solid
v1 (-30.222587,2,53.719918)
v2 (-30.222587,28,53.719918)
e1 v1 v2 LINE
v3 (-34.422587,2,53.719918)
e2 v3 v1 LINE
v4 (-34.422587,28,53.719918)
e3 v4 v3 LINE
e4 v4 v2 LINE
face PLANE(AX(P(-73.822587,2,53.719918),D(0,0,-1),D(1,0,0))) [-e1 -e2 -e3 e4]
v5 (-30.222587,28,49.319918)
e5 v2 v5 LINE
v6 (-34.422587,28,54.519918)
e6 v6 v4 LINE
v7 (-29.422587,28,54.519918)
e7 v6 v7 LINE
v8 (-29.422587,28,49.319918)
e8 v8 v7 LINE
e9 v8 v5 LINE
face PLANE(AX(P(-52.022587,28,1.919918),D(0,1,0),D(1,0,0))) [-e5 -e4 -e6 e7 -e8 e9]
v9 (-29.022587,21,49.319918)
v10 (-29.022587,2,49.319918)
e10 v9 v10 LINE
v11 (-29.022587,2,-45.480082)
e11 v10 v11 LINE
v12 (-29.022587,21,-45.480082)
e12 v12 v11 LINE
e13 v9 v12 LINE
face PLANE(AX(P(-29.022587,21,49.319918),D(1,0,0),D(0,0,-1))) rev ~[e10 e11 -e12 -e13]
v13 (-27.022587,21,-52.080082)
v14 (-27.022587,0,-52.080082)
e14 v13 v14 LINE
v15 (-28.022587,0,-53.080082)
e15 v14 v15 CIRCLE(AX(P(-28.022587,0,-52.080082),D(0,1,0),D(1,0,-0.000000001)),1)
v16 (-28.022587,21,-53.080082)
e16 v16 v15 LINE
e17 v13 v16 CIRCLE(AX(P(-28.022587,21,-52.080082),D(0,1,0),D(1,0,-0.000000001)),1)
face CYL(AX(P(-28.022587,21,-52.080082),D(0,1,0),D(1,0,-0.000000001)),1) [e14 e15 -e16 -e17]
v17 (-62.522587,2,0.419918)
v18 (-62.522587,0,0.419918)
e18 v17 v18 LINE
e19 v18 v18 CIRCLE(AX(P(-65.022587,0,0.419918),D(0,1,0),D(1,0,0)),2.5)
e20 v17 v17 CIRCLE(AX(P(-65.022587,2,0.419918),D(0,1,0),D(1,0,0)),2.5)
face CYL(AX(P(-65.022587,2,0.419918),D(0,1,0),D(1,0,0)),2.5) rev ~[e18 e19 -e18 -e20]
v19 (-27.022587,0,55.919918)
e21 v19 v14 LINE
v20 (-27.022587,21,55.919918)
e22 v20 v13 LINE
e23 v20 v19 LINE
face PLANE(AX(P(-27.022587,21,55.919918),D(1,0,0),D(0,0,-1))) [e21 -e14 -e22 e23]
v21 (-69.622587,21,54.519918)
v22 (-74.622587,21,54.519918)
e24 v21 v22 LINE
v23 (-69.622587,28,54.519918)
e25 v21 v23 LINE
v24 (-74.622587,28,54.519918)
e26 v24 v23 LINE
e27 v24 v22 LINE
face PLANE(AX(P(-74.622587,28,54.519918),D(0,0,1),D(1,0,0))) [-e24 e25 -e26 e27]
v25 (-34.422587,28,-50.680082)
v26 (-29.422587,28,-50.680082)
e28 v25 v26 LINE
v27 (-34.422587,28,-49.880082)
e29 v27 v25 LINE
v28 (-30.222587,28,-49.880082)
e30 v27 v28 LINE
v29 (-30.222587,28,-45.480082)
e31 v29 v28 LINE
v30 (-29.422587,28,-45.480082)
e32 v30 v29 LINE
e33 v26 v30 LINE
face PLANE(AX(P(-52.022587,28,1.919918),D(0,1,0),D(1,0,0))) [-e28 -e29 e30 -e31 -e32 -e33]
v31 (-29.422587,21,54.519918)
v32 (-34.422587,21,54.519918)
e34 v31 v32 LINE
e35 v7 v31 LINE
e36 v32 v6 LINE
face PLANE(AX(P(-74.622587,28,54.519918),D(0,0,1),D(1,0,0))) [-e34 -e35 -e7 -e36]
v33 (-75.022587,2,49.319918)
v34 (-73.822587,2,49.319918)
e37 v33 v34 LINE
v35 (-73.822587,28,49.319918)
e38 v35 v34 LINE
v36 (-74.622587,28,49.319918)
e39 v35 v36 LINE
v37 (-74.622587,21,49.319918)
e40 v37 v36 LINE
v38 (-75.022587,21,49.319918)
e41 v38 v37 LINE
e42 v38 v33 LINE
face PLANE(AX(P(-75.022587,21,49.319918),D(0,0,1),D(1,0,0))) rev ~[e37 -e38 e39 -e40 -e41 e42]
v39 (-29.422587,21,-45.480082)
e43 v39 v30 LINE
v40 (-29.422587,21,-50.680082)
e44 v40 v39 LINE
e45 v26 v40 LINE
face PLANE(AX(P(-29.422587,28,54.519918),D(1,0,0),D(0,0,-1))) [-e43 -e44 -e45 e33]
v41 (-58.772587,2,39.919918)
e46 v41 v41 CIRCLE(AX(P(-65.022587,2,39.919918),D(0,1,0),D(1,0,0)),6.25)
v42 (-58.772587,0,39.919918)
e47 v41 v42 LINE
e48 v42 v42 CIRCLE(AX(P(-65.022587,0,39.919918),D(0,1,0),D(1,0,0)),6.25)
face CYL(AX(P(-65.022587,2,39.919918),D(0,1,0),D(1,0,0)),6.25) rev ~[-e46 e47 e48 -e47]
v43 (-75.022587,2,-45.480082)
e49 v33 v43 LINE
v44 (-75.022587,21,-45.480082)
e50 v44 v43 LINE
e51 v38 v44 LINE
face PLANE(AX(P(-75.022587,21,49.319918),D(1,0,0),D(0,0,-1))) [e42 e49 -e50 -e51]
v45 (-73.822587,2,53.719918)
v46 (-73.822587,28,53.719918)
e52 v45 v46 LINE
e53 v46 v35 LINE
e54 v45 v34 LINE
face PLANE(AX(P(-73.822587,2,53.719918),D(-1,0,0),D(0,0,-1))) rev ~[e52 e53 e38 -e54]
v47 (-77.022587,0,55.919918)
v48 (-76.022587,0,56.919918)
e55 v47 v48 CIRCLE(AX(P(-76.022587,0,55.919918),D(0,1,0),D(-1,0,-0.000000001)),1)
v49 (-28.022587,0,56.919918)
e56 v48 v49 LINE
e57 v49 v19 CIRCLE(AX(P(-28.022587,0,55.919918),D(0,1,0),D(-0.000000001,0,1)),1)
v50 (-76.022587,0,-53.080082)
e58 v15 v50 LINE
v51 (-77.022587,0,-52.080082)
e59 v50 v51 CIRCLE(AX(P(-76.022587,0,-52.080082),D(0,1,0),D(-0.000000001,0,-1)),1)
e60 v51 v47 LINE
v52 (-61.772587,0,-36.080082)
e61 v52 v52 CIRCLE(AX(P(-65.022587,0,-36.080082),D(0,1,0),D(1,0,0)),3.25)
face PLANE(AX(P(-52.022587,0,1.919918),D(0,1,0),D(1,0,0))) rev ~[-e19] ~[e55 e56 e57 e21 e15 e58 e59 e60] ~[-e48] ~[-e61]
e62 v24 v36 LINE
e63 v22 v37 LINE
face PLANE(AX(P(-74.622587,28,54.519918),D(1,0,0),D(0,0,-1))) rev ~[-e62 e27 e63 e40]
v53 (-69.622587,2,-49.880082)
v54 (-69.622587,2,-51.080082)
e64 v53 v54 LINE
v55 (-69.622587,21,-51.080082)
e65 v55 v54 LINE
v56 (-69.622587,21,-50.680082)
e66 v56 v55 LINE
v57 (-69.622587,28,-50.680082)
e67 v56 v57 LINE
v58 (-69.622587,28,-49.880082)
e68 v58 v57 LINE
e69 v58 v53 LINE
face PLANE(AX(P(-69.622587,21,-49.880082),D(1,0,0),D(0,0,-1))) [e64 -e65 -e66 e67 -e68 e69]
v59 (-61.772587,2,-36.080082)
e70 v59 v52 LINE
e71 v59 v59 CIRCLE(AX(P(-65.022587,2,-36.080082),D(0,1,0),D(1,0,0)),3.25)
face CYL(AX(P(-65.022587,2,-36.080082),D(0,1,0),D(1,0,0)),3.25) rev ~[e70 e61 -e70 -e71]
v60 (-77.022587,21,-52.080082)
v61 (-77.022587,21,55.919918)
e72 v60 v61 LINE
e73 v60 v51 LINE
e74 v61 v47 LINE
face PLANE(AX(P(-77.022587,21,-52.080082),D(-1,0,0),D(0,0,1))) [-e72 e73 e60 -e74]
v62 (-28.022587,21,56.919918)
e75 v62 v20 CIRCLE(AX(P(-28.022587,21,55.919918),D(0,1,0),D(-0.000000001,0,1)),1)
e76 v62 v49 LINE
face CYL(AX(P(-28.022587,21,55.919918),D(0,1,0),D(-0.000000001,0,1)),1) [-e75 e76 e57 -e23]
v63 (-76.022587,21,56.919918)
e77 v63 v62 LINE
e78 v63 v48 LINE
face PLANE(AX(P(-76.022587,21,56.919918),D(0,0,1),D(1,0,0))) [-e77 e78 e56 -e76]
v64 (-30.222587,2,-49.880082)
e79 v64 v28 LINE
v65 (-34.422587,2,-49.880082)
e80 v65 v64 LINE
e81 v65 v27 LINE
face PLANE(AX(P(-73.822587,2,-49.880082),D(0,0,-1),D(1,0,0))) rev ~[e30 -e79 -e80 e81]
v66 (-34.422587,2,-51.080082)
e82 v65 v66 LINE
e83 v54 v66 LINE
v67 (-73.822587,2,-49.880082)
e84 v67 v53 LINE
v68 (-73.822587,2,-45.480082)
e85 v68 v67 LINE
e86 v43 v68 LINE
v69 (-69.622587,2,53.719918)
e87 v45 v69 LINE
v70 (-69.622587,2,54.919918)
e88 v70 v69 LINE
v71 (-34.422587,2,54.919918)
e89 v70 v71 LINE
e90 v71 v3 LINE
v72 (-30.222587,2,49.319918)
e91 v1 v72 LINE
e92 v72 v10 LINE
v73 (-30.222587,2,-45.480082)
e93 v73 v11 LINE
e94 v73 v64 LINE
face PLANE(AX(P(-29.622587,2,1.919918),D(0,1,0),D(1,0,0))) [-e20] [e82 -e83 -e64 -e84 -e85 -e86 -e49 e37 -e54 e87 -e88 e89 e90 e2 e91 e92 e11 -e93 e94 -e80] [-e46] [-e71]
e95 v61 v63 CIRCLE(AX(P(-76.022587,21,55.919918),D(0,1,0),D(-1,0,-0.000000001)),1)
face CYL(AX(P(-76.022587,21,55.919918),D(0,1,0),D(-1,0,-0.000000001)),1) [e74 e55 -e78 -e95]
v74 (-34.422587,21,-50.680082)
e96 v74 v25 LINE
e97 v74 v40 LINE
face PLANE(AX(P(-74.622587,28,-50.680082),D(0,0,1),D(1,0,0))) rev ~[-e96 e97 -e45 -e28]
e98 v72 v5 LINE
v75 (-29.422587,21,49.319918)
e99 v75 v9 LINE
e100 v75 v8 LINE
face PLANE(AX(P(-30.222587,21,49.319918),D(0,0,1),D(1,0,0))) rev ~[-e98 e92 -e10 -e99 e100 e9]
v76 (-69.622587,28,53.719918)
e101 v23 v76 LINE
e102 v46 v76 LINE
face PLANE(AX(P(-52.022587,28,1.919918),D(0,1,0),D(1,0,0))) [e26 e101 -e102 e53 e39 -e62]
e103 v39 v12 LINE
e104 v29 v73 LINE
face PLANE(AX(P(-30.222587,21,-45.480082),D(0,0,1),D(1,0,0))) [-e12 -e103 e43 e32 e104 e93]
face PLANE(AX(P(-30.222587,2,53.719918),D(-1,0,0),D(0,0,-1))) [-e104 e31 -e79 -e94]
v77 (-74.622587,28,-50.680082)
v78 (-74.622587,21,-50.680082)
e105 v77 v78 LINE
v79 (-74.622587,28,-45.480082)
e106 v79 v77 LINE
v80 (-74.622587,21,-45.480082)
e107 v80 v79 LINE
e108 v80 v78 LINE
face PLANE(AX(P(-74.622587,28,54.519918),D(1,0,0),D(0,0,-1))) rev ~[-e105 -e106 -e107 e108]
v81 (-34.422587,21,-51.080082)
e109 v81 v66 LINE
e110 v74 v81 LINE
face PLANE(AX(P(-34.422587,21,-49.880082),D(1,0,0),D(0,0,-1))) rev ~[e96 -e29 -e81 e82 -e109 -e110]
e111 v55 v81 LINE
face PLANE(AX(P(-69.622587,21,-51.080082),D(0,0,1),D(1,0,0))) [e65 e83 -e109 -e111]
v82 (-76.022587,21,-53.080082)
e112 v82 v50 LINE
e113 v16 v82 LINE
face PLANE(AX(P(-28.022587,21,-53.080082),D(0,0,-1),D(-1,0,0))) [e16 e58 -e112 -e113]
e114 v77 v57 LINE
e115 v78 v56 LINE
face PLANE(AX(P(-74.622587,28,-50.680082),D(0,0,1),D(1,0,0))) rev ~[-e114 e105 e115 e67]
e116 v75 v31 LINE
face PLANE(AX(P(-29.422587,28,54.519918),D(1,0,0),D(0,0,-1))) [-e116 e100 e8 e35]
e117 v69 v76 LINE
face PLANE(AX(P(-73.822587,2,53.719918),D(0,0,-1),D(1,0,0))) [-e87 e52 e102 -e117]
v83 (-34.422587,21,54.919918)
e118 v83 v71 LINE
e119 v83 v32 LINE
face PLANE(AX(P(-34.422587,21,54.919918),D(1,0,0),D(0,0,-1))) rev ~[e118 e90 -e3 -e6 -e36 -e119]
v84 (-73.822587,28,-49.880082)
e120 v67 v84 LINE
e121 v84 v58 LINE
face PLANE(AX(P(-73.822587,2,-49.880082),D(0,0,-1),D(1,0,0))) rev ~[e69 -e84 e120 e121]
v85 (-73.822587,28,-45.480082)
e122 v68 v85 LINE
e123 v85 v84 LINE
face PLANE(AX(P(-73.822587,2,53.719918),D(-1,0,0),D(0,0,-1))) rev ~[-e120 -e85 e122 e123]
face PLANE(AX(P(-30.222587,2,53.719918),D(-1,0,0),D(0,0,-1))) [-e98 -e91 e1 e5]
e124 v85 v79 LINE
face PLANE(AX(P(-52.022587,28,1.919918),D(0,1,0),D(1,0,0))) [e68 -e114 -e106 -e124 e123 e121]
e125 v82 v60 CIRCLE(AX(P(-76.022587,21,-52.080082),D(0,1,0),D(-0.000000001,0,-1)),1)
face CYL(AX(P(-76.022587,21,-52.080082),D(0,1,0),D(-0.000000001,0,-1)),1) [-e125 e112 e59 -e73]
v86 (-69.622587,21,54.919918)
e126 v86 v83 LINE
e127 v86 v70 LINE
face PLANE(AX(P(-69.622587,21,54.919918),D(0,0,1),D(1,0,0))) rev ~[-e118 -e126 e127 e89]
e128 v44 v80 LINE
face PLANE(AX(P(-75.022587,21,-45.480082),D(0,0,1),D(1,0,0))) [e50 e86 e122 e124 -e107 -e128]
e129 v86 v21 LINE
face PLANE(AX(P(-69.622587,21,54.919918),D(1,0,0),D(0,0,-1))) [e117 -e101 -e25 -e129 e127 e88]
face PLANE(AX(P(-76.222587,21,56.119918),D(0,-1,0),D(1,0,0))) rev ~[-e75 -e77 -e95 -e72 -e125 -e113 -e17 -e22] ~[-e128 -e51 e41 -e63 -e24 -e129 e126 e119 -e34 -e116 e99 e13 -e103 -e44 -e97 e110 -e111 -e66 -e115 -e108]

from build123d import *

# Parameters (mm, degrees)
SKETCH1_W                = 50
SKETCH1_H                = 110
BOSS_EXTRUDE1_DEPTH      = 2
SKETCH2_W                = 50
SKETCH2_H                = 110
SKETCH2_W_2              = 46
SKETCH2_H_2              = 106
BOSS_EXTRUDE3_DEPTH      = 11
SKETCH3_R                = 1.2
BOSS_EXTRUDE4_DEPTH      = 11
SKETCH4_W                = 52
SKETCH4_H                = 112
SKETCH4_W_2              = 50
SKETCH4_H_2              = 110
EXTRUDE_THIN1_DEPTH      = 13
FILLET2_R                = 2
EXTRUDE_THIN3_DEPTH      = 3
SKETCH6_R                = 1.8
BOSS_EXTRUDE5_DEPTH      = 2.8
SKETCH8_W                = 8
SKETCH8_H                = 3.6
CUT_EXTRUDE2_DEPTH       = 12.8
SKETCH11_W               = 13.1
SKETCH11_H               = 5.8
CUT_EXTRUDE5_DEPTH       = 3
SKETCH12_W               = 70
SKETCH12_H               = 9.973266712
CUT_EXTRUDE6_DEPTH       = 130
SKETCH13_W               = 46
SKETCH13_H               = 106
CUT_EXTRUDE7_DEPTH       = 130
SKETCH15_W               = 46
SKETCH15_H               = 106
BOSS_EXTRUDE6_DEPTH      = 60
SKETCH16_W               = 71.739839436
SKETCH16_H               = 55.166081701
CUT_EXTRUDE8_DEPTH       = 130
SKETCH17_W               = 110.8
SKETCH17_H               = 170.8
SKETCH17_W_2             = 48.4
SKETCH17_H_2             = 108.4
CUT_EXTRUDE_THIN1_DEPTH  = 3
SKETCH18_W               = 3
SKETCH18_H               = 13.1
BOSS_EXTRUDE7_DEPTH      = 7
SKETCH19_W               = 3
SKETCH19_H               = 8
BOSS_EXTRUDE8_DEPTH      = 4.5
SKETCH20_R               = 6
SKETCH20_R_2             = 3
CUT_EXTRUDE9_DEPTH       = 4.5
CUT_EXTRUDE_THIN3_DEPTH  = 80
SKETCH24_W               = 48.4
SKETCH24_H               = 3
CUT_EXTRUDE10_DEPTH      = 140
SKETCH26_W               = 46
SKETCH26_H               = 106
SKETCH26_W_2             = 43.6
SKETCH26_H_2             = 103.6
EXTRUDE_THIN5_DEPTH      = 26
SKETCH27_W               = 47.6
SKETCH27_H               = 107.6
SKETCH27_W_2             = 45.2
SKETCH27_H_2             = 105.2
CUT_EXTRUDE_THIN4_DEPTH  = 7
SKETCH28_W               = 94.8
SKETCH28_H               = 7
CUT_EXTRUDE11_DEPTH      = 7
CUT_EXTRUDE11_DEPTH_BACK = 87
SKETCH29_W               = 35.2
SKETCH29_H               = 7
CUT_EXTRUDE12_DEPTH      = 87
CUT_EXTRUDE12_DEPTH_BACK = 137
SKETCH30_W               = 1.2
SKETCH30_H               = 94.8
SKETCH30_W_2             = 35.2
SKETCH30_H_2             = 1.2
CUT_EXTRUDE13_DEPTH      = 19
SKETCH31_R               = 6.25
CUT_EXTRUDE14_DEPTH      = 10
CUT_EXTRUDE14_DEPTH_BACK = 10
SKETCH32_R               = 3.25
CUT_EXTRUDE17_DEPTH      = 10
SKETCH35_R               = 2.5
CUT_EXTRUDE18_DEPTH      = 10
CUT_EXTRUDE18_DEPTH_BACK = 10


with BuildPart() as part:
    # Sketch1 → Boss-Extrude1 (new body)
    with BuildSketch(Plane(origin=(0, 0, 0), x_dir=(1, 0, 0), z_dir=(0, 1, 0))):
        with Locations((-52.022587269, -1.919917864)):
            Rectangle(SKETCH1_W, SKETCH1_H)
    extrude(amount=BOSS_EXTRUDE1_DEPTH)

    # Sketch2 → Boss-Extrude3 (add)
    with BuildSketch(Plane(origin=(0, 2, 0), x_dir=(1, 0, 0), z_dir=(0, 1, 0))):
        with Locations((-52.022587269, -1.919917864)):
            Rectangle(SKETCH2_W, SKETCH2_H)
        with Locations((-52.022587269, -1.919917864)):
            Rectangle(SKETCH2_W_2, SKETCH2_H_2, mode=Mode.SUBTRACT)
    extrude(amount=BOSS_EXTRUDE3_DEPTH)

    # Sketch3 → Boss-Extrude4 (add)
    with BuildSketch(Plane(origin=(0, 2, 0), x_dir=(1, 0, 0), z_dir=(0, 1, 0))):
        with Locations((-31.022587269, 42.380082136)):
            Circle(SKETCH3_R)
        with Locations((-31.022587269, -52.919917864)):
            Circle(SKETCH3_R)
        with Locations((-56.322587269, 42.380082136)):
            Circle(SKETCH3_R)
        with Locations((-56.322587269, -52.919917864)):
            Circle(SKETCH3_R)
    extrude(amount=BOSS_EXTRUDE4_DEPTH)

    # Sketch4 → Extrude-Thin1 (add)
    with BuildSketch(Plane(origin=(0, 13, 0), x_dir=(1, 0, 0), z_dir=(0, 1, 0))):
        with Locations((-52.022587269, -1.919917864)):
            Rectangle(SKETCH4_W, SKETCH4_H)
        with Locations((-52.022587269, -1.919917864)):
            Rectangle(SKETCH4_W_2, SKETCH4_H_2, mode=Mode.SUBTRACT)
    extrude(amount=-EXTRUDE_THIN1_DEPTH)

    # Fillet2
    fillet2_edges = [part.edges().sort_by_distance(p)[0] for p in [
        (-26.022587269, 6.5, -54.080082136),
        (-26.022587269, 6.5, 57.919917864),
        (-78.022587269, 6.5, 57.919917864),
        (-78.022587269, 6.5, -54.080082136),
    ]]
    fillet(fillet2_edges, radius=FILLET2_R)

    # Sketch5 → Extrude-Thin3 (add)
    with BuildSketch(Plane(origin=(0, 13, 0), x_dir=(1, 0, 0), z_dir=(0, 1, 0))):
        with BuildLine():
            Line((-28.022587269, 54.080082136), (-76.022587269, 54.080082136))
            ThreePointArc((-76.022587269, 54.080082136), (-77.436800831, 53.494295698), (-78.022587269, 52.080082136))
            Line((-78.022587269, 52.080082136), (-78.022587269, -55.919917864))
            ThreePointArc((-78.022587269, -55.919917864), (-77.436800831, -57.334131427), (-76.022587269, -57.919917864))
            Line((-76.022587269, -57.919917864), (-28.022587269, -57.919917864))
            ThreePointArc((-28.022587269, -57.919917864), (-26.608373707, -57.334131427), (-26.022587269, -55.919917864))
            Line((-26.022587269, -55.919917864), (-26.022587269, 52.080082136))
            ThreePointArc((-26.022587269, 52.080082136), (-26.608373707, 53.494295698), (-28.022587269, 54.080082136))
        make_face()
        with BuildLine():
            Line((-28.022587269, 52.880082136), (-76.022587269, 52.880082136))
            ThreePointArc((-76.022587269, 52.880082136), (-76.588272694, 52.64576756), (-76.822587269, 52.080082136))
            Line((-76.822587269, 52.080082136), (-76.822587269, -55.919917864))
            ThreePointArc((-76.822587269, -55.919917864), (-76.588272694, -56.485603289), (-76.022587269, -56.719917864))
            Line((-76.022587269, -56.719917864), (-28.022587269, -56.719917864))
            ThreePointArc((-28.022587269, -56.719917864), (-27.456901844, -56.485603289), (-27.222587269, -55.919917864))
            Line((-27.222587269, -55.919917864), (-27.222587269, 52.080082136))
            ThreePointArc((-27.222587269, 52.080082136), (-27.456901844, 52.64576756), (-28.022587269, 52.880082136))
        make_face(mode=Mode.SUBTRACT)
    extrude(amount=EXTRUDE_THIN3_DEPTH)

    # Sketch6 → Boss-Extrude5 (add)
    with BuildSketch(Plane(origin=(0, 2, 0), x_dir=(1, 0, 0), z_dir=(0, 1, 0))):
        with Locations((-56.322587269, -52.919917864)):
            Circle(SKETCH6_R)
        with Locations((-31.022587269, -52.919917864)):
            Circle(SKETCH6_R)
        with Locations((-56.322587269, 42.380082136)):
            Circle(SKETCH6_R)
        with Locations((-31.022587269, 42.380082136)):
            Circle(SKETCH6_R)
    extrude(amount=BOSS_EXTRUDE5_DEPTH)

    # Sketch8 → Cut-Extrude2 (cut)
    with BuildSketch(Plane(origin=(-26.022587269, 0, 0), x_dir=(0, 0, -1), z_dir=(1, 0, 0))):
        with Locations((-44.619917864, 3.8)):
            Rectangle(SKETCH8_W, SKETCH8_H)
    extrude(amount=-CUT_EXTRUDE2_DEPTH, mode=Mode.SUBTRACT)

    # Sketch11 → Cut-Extrude5 (cut)
    with BuildSketch(Plane.ZY.offset(78.022587269)):
        with Locations((-43.530082136, 4.9)):
            Rectangle(SKETCH11_W, SKETCH11_H)
    extrude(amount=-CUT_EXTRUDE5_DEPTH, mode=Mode.SUBTRACT)

    # Sketch12 → Cut-Extrude6 (cut)
    with BuildSketch(Plane.XY.offset(57.919917864)):
        with Locations((-53.022587269, 15.377484965)):
            Rectangle(SKETCH12_W, SKETCH12_H)
    extrude(amount=-CUT_EXTRUDE6_DEPTH, mode=Mode.SUBTRACT)

    # Sketch13 → Cut-Extrude7 (cut)
    with BuildSketch(Plane(origin=(0, 2, 0), x_dir=(1, 0, 0), z_dir=(0, 1, 0))):
        with Locations((-52.022587269, -1.919917864)):
            Rectangle(SKETCH13_W, SKETCH13_H)
    extrude(amount=CUT_EXTRUDE7_DEPTH, mode=Mode.SUBTRACT)

    # Sketch15 → Boss-Extrude6 (add)
    with BuildSketch(Plane(origin=(0, 10.390851609, 0), x_dir=(1, 0, 0), z_dir=(0, 1, 0))):
        with BuildLine():
            Line((-76.022587269, -57.919917864), (-28.022587269, -57.919917864))
            ThreePointArc((-28.022587269, -57.919917864), (-26.608373707, -57.334131427), (-26.022587269, -55.919917864))
            Line((-26.022587269, -55.919917864), (-26.022587269, 52.080082136))
            ThreePointArc((-26.022587269, 52.080082136), (-26.608373707, 53.494295698), (-28.022587269, 54.080082136))
            Line((-28.022587269, 54.080082136), (-76.022587269, 54.080082136))
            ThreePointArc((-76.022587269, 54.080082136), (-77.436800831, 53.494295698), (-78.022587269, 52.080082136))
            Line((-78.022587269, 52.080082136), (-78.022587269, -55.919917864))
            ThreePointArc((-78.022587269, -55.919917864), (-77.436800831, -57.334131427), (-76.022587269, -57.919917864))
        make_face()
        with Locations((-52.022587269, -1.919917864)):
            Rectangle(SKETCH15_W, SKETCH15_H, mode=Mode.SUBTRACT)
    extrude(amount=BOSS_EXTRUDE6_DEPTH)

    # Sketch16 → Cut-Extrude8 (cut)
    with BuildSketch(Plane.XY.offset(57.919917864)):
        with Locations((-48.522353235, 51.583040851)):
            Rectangle(SKETCH16_W, SKETCH16_H)
    extrude(amount=-CUT_EXTRUDE8_DEPTH, mode=Mode.SUBTRACT)

    # Sketch17 → Cut-Extrude-Thin1 (cut)
    with BuildSketch(Plane(origin=(0, 24, 0), x_dir=(1, 0, 0), z_dir=(0, 1, 0))):
        with Locations((-52.022587269, -1.919917864)):
            Rectangle(SKETCH17_W, SKETCH17_H)
        with Locations((-52.022587269, -1.919917864)):
            Rectangle(SKETCH17_W_2, SKETCH17_H_2, mode=Mode.SUBTRACT)
    extrude(amount=-CUT_EXTRUDE_THIN1_DEPTH, mode=Mode.SUBTRACT)

    # Sketch18 → Boss-Extrude7 (add)
    with BuildSketch(Plane.XZ.offset(-7.8)):
        with Locations((-76.522587269, -43.530082136)):
            Rectangle(SKETCH18_W, SKETCH18_H)
    extrude(amount=BOSS_EXTRUDE7_DEPTH)

    # Sketch19 → Boss-Extrude8 (add)
    with BuildSketch(Plane.XZ.offset(-5.6)):
        with Locations((-27.522587269, 44.619917864)):
            Rectangle(SKETCH19_W, SKETCH19_H)
    extrude(amount=BOSS_EXTRUDE8_DEPTH)

    # Sketch20 → Cut-Extrude9 (cut)
    with BuildSketch(Plane(origin=(0, 2, 0), x_dir=(1, 0, 0), z_dir=(0, 1, 0))):
        with Locations((-65.022587269, -39.919917864)):
            Circle(SKETCH20_R)
        with Locations((-65.022587269, 36.080082136)):
            Circle(SKETCH20_R_2)
    extrude(amount=-CUT_EXTRUDE9_DEPTH, mode=Mode.SUBTRACT)

    # Sketch23 → Cut-Extrude-Thin3 (cut)
    with BuildSketch(Plane(origin=(0, 21, 0), x_dir=(1, 0, 0), z_dir=(0, 1, 0))):
        with BuildLine():
            Line((-87.022587269, 52.080082136), (-87.022587269, -55.919917864))
            ThreePointArc((-87.022587269, -55.919917864), (-83.800761862, -63.698092458), (-76.022587269, -66.919917864))
            Line((-76.022587269, -66.919917864), (-28.022587269, -66.919917864))
            ThreePointArc((-28.022587269, -66.919917864), (-20.244412676, -63.698092458), (-17.022587269, -55.919917864))
            Line((-17.022587269, -55.919917864), (-17.022587269, 52.080082136))
            ThreePointArc((-17.022587269, 52.080082136), (-20.244412676, 59.858256729), (-28.022587269, 63.080082136))
            Line((-28.022587269, 63.080082136), (-76.022587269, 63.080082136))
            ThreePointArc((-76.022587269, 63.080082136), (-83.800761862, 59.858256729), (-87.022587269, 52.080082136))
        make_face()
        with BuildLine():
            Line((-77.022587269, 52.080082136), (-77.022587269, -55.919917864))
            ThreePointArc((-77.022587269, -55.919917864), (-76.72969405, -56.627024646), (-76.022587269, -56.919917864))
            Line((-76.022587269, -56.919917864), (-28.022587269, -56.919917864))
            ThreePointArc((-28.022587269, -56.919917864), (-27.315480488, -56.627024646), (-27.022587269, -55.919917864))
            Line((-27.022587269, -55.919917864), (-27.022587269, 52.080082136))
            ThreePointArc((-27.022587269, 52.080082136), (-27.315480488, 52.787188917), (-28.022587269, 53.080082136))
            Line((-28.022587269, 53.080082136), (-76.022587269, 53.080082136))
            ThreePointArc((-76.022587269, 53.080082136), (-76.72969405, 52.787188917), (-77.022587269, 52.080082136))
        make_face(mode=Mode.SUBTRACT)
    extrude(amount=-CUT_EXTRUDE_THIN3_DEPTH, mode=Mode.SUBTRACT)

    # Sketch24 → Cut-Extrude10 (cut)
    with BuildSketch(Plane.XY.offset(56.119917864)):
        with Locations((-52.022587269, 22.5)):
            Rectangle(SKETCH24_W, SKETCH24_H)
    extrude(amount=-CUT_EXTRUDE10_DEPTH, mode=Mode.SUBTRACT)

    # Sketch26 → Extrude-Thin5 (add)
    with BuildSketch(Plane(origin=(0, 2, 0), x_dir=(1, 0, 0), z_dir=(0, 1, 0))):
        with Locations((-52.022587269, -1.919917864)):
            Rectangle(SKETCH26_W, SKETCH26_H)
        with Locations((-52.022587269, -1.919917864)):
            Rectangle(SKETCH26_W_2, SKETCH26_H_2, mode=Mode.SUBTRACT)
    extrude(amount=EXTRUDE_THIN5_DEPTH)

    # Sketch27 → Cut-Extrude-Thin4 (cut)
    with BuildSketch(Plane(origin=(0, 28, 0), x_dir=(1, 0, 0), z_dir=(0, 1, 0))):
        with Locations((-52.022587269, -1.919917864)):
            Rectangle(SKETCH27_W, SKETCH27_H)
        with Locations((-52.022587269, -1.919917864)):
            Rectangle(SKETCH27_W_2, SKETCH27_H_2, mode=Mode.SUBTRACT)
    extrude(amount=-CUT_EXTRUDE_THIN4_DEPTH, mode=Mode.SUBTRACT)

    # Sketch28 → Cut-Extrude11 (cut, two sides)
    with BuildSketch(Plane(origin=(-29.422587269, 0, 0), x_dir=(0, 0, -1), z_dir=(1, 0, 0))) as cut_extrude11_sk:
        with Locations((-1.919917864, 24.5)):
            Rectangle(SKETCH28_W, SKETCH28_H)
    extrude(amount=CUT_EXTRUDE11_DEPTH, mode=Mode.SUBTRACT)
    extrude(cut_extrude11_sk.sketch, amount=-CUT_EXTRUDE11_DEPTH_BACK, mode=Mode.SUBTRACT)

    # Sketch29 → Cut-Extrude12 (cut, two sides)
    with BuildSketch(Plane.XY.offset(54.519917864)) as cut_extrude12_sk:
        with Locations((-52.022587269, 24.5)):
            Rectangle(SKETCH29_W, SKETCH29_H)
    extrude(amount=CUT_EXTRUDE12_DEPTH, mode=Mode.SUBTRACT)
    extrude(cut_extrude12_sk.sketch, amount=-CUT_EXTRUDE12_DEPTH_BACK, mode=Mode.SUBTRACT)

    # Sketch30 → Cut-Extrude13 (cut)
    with BuildSketch(Plane(origin=(0, 21, 0), x_dir=(1, 0, 0), z_dir=(0, 1, 0))):
        with Locations((-74.422587269, -1.919917864)):
            Rectangle(SKETCH30_W, SKETCH30_H)
        with Locations((-52.022587269, -54.319917864)):
            Rectangle(SKETCH30_W_2, SKETCH30_H_2)
        with Locations((-29.622587269, -1.919917864)):
            Rectangle(SKETCH30_W, SKETCH30_H)
        with Locations((-52.022587269, 50.480082136)):
            Rectangle(SKETCH30_W_2, SKETCH30_H_2)
    extrude(amount=-CUT_EXTRUDE13_DEPTH, mode=Mode.SUBTRACT)

    # Sketch31 → Cut-Extrude14 (cut, two sides)
    with BuildSketch(Plane(origin=(0, 2, 0), x_dir=(1, 0, 0), z_dir=(0, 1, 0))) as cut_extrude14_sk:
        with Locations((-65.022587269, -39.919917864)):
            Circle(SKETCH31_R)
    extrude(amount=CUT_EXTRUDE14_DEPTH, mode=Mode.SUBTRACT)
    extrude(cut_extrude14_sk.sketch, amount=-CUT_EXTRUDE14_DEPTH_BACK, mode=Mode.SUBTRACT)

    # Sketch32 → Cut-Extrude17 (cut)
    with BuildSketch(Plane(origin=(0, 2, 0), x_dir=(1, 0, 0), z_dir=(0, 1, 0))):
        with Locations((-65.022587269, 36.080082136)):
            Circle(SKETCH32_R)
    extrude(amount=-CUT_EXTRUDE17_DEPTH, mode=Mode.SUBTRACT)

    # Sketch35 → Cut-Extrude18 (cut, two sides)
    with BuildSketch(Plane(origin=(0, 2, 0), x_dir=(1, 0, 0), z_dir=(0, 1, 0))) as cut_extrude18_sk:
        with Locations((-65.022587269, -0.419917864)):
            Circle(SKETCH35_R)
    extrude(amount=CUT_EXTRUDE18_DEPTH, mode=Mode.SUBTRACT)
    extrude(cut_extrude18_sk.sketch, amount=-CUT_EXTRUDE18_DEPTH_BACK, mode=Mode.SUBTRACT)


solid = part.part
